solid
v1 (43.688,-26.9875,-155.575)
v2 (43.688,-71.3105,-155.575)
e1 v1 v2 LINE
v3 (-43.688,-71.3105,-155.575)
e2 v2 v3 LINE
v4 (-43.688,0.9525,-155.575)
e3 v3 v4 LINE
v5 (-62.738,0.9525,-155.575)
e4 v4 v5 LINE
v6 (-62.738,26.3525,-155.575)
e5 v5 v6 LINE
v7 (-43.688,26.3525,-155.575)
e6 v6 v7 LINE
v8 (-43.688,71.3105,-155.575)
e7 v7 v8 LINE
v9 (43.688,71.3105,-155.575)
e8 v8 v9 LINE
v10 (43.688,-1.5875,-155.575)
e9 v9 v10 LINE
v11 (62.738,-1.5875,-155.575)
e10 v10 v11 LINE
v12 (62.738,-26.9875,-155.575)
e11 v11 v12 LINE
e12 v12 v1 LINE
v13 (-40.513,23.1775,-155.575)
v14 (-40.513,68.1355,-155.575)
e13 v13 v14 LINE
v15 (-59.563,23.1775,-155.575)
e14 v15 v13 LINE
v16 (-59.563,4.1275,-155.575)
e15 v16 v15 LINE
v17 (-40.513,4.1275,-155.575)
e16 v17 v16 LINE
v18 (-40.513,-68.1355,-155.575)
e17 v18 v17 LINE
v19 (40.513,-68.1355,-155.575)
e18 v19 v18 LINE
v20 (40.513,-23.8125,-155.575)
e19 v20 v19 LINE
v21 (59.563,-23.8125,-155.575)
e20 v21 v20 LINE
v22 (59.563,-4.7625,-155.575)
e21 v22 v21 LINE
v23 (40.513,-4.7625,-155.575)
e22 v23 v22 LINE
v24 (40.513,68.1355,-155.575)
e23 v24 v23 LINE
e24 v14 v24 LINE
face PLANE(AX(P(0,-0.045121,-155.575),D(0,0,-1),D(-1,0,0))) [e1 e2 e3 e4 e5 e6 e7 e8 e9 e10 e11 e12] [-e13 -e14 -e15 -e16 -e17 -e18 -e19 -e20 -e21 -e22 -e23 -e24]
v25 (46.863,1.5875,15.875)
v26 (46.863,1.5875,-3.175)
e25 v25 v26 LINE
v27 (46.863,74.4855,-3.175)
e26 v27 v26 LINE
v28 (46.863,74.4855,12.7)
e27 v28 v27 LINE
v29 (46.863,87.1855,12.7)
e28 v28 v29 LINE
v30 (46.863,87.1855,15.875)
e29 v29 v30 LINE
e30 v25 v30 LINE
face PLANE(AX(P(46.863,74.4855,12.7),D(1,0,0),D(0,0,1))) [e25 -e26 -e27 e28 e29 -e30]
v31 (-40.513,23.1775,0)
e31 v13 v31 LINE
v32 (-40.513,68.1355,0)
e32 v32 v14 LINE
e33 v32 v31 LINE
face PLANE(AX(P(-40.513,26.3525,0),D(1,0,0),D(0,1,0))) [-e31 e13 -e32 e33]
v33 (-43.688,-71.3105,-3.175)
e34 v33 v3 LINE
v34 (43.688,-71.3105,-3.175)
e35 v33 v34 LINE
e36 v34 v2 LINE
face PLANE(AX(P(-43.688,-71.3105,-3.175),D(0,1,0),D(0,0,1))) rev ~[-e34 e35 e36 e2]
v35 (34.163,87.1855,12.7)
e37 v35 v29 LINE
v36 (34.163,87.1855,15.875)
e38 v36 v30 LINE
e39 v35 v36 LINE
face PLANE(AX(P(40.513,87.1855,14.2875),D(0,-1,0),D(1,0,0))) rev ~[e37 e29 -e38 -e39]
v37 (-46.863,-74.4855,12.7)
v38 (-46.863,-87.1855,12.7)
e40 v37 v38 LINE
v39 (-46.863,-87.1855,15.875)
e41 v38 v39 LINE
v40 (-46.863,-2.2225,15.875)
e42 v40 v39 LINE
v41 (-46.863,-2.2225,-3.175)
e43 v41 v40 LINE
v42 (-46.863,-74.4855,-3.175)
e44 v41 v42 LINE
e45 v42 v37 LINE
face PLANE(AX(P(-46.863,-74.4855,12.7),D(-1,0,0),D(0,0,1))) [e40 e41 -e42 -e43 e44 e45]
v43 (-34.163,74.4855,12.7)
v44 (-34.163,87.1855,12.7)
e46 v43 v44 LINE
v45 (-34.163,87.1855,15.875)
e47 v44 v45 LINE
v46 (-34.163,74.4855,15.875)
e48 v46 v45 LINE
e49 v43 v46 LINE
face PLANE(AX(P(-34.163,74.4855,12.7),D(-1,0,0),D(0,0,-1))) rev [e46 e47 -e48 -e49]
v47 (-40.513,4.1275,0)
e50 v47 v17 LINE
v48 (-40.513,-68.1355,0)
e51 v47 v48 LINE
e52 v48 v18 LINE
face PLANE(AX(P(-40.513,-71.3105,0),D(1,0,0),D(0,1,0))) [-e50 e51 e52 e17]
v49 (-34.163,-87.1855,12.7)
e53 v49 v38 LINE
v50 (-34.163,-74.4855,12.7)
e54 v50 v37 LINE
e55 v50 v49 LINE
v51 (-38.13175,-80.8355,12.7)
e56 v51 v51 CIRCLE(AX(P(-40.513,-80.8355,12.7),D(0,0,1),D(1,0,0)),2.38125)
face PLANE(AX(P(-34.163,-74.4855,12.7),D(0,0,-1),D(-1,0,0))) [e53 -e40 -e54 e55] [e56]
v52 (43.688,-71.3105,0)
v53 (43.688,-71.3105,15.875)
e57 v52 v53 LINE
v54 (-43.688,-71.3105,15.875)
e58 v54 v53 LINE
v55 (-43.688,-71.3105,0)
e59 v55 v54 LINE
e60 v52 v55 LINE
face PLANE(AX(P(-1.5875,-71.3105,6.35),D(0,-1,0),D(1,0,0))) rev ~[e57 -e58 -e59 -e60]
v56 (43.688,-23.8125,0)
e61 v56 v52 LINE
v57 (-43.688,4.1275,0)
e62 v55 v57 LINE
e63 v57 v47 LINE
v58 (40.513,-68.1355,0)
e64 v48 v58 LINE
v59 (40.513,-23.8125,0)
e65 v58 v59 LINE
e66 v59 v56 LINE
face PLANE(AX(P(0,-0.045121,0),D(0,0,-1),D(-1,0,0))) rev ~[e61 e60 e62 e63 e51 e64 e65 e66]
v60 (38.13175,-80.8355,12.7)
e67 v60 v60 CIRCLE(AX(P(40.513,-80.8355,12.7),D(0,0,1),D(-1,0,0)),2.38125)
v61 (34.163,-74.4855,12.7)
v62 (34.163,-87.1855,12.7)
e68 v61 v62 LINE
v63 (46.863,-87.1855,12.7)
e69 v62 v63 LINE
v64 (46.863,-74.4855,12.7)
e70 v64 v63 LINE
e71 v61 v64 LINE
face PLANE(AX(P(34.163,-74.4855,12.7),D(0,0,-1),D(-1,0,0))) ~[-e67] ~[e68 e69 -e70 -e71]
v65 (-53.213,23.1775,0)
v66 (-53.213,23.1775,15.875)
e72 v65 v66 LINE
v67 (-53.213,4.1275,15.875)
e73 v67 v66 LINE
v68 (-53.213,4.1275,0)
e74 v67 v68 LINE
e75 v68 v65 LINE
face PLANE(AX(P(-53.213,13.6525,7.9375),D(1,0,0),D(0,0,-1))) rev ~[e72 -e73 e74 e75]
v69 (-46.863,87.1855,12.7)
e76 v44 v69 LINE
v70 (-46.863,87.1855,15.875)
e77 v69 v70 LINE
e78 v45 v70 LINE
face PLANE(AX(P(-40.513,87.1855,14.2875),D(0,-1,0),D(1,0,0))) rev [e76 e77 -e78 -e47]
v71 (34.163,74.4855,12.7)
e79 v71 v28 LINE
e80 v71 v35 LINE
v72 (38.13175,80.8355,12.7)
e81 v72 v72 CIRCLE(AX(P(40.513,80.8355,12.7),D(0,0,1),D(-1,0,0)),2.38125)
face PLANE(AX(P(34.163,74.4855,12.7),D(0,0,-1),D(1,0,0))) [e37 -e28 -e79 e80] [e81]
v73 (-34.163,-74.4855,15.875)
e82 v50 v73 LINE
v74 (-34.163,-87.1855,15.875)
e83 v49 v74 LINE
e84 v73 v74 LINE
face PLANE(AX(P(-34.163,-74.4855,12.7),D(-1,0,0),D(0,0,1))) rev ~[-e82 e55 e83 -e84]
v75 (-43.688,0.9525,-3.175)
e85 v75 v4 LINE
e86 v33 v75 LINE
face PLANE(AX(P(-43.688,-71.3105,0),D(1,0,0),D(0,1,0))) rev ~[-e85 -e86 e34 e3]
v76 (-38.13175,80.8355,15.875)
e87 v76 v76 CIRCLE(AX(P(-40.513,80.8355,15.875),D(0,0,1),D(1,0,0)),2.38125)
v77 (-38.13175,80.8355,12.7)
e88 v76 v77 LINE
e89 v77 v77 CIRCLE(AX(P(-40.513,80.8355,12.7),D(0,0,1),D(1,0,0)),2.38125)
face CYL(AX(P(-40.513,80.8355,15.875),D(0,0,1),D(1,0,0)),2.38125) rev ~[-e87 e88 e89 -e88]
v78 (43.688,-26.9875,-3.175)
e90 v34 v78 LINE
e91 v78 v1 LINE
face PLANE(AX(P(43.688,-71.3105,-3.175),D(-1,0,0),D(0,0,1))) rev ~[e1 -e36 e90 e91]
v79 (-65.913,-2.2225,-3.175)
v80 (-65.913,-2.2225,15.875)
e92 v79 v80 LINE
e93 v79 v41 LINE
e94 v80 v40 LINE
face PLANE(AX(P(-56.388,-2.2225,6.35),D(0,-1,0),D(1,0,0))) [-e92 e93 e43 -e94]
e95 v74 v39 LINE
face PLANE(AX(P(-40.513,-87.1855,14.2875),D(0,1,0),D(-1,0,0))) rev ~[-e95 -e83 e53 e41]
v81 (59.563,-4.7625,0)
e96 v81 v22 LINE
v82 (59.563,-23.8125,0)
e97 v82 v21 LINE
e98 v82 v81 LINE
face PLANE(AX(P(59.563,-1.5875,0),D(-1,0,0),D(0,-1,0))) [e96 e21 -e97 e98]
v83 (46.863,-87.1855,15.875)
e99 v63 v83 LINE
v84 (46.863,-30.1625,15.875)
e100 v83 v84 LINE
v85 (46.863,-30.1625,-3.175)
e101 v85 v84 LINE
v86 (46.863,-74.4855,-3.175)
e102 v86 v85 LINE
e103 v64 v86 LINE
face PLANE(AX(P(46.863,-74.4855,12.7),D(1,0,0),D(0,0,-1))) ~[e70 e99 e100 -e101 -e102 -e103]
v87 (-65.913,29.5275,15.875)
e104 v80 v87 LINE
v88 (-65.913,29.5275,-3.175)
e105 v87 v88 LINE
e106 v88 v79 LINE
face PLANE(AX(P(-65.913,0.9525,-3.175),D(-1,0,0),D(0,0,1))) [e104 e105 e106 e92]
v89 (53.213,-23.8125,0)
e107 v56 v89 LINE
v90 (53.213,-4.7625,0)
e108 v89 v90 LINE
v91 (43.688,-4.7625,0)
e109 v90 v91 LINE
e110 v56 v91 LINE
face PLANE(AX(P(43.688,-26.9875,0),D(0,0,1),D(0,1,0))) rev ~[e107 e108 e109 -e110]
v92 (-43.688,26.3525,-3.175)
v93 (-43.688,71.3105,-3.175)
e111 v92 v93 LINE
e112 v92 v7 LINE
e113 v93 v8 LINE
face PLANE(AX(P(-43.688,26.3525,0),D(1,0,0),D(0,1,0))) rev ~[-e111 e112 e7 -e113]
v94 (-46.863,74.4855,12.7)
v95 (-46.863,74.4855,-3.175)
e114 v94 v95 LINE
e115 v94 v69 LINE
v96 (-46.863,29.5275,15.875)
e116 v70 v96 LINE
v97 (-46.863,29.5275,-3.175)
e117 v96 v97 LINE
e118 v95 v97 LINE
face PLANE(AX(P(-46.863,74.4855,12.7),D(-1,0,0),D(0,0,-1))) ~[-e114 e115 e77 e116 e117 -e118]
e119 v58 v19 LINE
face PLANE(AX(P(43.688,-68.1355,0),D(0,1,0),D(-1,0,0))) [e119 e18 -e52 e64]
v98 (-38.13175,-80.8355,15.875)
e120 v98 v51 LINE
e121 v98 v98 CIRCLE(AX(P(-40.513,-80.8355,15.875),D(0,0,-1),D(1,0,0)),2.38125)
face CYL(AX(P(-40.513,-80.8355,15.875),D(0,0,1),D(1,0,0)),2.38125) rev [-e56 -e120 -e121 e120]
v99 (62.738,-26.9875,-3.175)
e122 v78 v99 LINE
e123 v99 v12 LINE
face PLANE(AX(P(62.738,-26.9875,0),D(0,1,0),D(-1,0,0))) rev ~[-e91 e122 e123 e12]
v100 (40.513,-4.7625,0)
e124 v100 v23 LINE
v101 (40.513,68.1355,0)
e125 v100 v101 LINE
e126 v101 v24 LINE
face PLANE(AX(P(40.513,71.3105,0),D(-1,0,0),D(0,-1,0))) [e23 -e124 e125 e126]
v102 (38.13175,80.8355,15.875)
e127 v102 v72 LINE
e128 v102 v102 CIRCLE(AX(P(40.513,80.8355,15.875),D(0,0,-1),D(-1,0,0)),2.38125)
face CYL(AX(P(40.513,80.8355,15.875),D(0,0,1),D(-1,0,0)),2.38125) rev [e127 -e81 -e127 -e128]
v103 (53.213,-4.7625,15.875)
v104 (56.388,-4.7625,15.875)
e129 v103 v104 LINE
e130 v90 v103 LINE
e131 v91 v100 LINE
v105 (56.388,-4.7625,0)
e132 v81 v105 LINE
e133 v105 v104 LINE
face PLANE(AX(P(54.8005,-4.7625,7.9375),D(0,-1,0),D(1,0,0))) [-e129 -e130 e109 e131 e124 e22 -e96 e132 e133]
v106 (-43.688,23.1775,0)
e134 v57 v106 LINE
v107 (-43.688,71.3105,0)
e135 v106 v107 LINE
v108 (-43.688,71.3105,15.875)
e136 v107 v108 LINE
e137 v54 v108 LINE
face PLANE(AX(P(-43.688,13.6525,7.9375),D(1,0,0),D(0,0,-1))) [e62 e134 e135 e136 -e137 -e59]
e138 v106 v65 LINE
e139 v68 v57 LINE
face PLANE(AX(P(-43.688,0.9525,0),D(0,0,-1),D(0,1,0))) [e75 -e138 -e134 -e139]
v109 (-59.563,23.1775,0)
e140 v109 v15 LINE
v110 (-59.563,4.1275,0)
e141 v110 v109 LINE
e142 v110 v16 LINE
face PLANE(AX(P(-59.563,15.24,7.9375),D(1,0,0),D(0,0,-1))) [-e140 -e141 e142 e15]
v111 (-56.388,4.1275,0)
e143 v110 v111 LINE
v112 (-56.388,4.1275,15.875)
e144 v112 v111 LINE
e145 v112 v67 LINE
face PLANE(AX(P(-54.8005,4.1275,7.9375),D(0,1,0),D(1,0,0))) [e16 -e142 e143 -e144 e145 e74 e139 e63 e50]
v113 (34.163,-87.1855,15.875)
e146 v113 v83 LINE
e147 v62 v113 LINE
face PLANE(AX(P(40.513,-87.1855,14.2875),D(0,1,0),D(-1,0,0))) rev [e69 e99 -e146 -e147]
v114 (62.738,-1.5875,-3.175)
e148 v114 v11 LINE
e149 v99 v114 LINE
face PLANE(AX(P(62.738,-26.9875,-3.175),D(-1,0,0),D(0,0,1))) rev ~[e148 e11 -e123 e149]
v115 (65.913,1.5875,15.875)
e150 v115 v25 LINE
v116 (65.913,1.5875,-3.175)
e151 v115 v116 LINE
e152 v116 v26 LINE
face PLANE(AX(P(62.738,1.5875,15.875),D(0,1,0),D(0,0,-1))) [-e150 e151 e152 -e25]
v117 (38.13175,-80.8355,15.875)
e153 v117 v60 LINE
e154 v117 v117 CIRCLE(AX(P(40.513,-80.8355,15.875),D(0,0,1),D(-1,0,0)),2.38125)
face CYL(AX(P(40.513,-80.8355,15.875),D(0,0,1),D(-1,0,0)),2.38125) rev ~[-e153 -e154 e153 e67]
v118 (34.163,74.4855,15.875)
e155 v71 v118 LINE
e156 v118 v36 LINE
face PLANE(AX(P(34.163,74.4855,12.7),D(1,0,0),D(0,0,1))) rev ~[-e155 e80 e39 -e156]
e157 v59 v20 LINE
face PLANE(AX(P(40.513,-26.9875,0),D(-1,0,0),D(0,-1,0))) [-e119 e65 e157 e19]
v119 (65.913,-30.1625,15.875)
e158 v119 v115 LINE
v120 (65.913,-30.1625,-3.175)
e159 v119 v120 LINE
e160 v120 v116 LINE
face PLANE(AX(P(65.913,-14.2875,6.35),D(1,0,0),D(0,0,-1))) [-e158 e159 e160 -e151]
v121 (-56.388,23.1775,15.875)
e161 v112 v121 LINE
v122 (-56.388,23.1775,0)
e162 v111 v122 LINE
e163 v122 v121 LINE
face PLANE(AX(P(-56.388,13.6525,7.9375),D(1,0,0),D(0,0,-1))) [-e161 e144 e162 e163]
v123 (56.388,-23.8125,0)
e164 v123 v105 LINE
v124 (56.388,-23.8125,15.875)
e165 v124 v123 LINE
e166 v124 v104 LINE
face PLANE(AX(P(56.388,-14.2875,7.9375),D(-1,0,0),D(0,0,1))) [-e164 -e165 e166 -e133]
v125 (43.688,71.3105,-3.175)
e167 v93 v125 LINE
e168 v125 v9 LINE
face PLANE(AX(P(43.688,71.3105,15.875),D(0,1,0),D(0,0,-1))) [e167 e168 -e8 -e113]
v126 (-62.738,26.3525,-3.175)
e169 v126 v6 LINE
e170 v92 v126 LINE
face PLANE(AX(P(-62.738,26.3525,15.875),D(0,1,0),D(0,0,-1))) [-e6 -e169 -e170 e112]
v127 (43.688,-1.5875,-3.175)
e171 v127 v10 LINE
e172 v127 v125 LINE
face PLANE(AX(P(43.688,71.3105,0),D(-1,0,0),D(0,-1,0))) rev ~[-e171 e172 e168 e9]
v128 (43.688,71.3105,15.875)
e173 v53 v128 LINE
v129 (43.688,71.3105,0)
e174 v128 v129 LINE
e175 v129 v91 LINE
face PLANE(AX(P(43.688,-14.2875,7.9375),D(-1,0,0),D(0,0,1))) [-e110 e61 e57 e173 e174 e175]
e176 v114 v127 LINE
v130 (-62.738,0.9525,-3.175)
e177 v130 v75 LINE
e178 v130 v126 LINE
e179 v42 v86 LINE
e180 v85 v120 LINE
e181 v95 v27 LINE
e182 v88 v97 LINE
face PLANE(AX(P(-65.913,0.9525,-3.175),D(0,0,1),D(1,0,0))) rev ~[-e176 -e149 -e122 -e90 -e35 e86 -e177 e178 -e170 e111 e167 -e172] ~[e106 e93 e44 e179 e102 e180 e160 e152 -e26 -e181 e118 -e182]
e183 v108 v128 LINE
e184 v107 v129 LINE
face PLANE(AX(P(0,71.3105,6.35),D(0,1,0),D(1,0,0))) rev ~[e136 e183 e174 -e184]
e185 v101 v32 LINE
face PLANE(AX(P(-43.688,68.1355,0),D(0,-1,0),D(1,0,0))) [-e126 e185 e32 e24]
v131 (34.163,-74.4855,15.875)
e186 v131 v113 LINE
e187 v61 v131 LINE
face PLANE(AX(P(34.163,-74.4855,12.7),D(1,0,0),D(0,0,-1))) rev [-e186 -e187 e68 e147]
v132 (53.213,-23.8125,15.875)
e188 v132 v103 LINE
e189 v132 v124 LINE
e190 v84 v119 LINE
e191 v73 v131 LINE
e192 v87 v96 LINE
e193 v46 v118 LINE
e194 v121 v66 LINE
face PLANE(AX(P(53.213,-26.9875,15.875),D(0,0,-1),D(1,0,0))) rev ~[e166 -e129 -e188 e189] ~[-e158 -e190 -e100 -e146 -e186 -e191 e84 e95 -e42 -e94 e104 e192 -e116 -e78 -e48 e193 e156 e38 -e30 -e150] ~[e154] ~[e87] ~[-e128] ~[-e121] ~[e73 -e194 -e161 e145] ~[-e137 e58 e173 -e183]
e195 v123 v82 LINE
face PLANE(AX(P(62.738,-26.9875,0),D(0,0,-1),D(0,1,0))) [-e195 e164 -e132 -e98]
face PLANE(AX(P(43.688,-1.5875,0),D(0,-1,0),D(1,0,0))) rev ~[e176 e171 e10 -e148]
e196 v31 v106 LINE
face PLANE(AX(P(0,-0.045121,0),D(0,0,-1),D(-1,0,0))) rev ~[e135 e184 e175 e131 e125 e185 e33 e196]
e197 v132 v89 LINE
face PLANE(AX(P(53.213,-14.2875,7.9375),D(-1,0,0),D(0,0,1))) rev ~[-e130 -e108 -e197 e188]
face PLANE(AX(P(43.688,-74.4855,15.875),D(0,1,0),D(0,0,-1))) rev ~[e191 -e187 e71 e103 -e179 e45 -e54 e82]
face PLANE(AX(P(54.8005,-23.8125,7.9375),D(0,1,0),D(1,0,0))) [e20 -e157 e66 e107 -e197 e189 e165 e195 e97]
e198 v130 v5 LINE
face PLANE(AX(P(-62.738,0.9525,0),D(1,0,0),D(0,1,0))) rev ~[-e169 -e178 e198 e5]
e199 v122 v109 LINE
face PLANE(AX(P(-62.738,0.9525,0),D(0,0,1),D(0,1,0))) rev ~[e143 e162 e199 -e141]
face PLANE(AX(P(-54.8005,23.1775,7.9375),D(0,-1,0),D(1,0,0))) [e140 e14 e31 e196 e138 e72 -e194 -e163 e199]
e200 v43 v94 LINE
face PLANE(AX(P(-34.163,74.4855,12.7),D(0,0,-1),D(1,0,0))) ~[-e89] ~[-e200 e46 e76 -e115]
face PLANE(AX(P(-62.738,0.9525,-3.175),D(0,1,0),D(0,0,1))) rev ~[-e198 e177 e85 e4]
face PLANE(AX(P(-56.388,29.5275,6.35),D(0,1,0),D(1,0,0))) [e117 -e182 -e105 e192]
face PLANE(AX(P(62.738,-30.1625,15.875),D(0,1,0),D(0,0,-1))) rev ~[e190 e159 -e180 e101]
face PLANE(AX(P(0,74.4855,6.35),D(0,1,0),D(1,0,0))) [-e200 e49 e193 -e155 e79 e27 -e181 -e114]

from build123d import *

# Parameters (mm, degrees)
BOSS_EXTRUDE1_DEPTH     = 155.575
SHELL1_T                = -3.175
SKETCH2_W               = 19.05
SKETCH2_H               = 72.263
SKETCH2_H_2             = 44.958
BOSS_EXTRUDE2_DEPTH     = 3.175
SKETCH5_W               = 90.551
SKETCH5_H               = 19.05
BOSS_EXTRUDE8_DEPTH     = 3.175
SKETCH7_W               = 19.05
SKETCH7_H               = 47.498
ALL_6_DEPTH             = 3.175
SKETCH8_W               = 19.05
SKETCH8_H               = 72.898
ALL_5_DEPTH             = 3.175
SKETCH9_W               = 93.726
SKETCH9_H               = 19.05
BOSS_EXTRUDE12_DEPTH    = 3.175
SKETCH10_W              = 15.875
SKETCH10_H              = 19.05
ALL2_DEPTH              = 3.175
SKETCH11_W              = 15.875
SKETCH11_H              = 19.05
ALL_7_DEPTH             = 3.175
SKETCH13_W              = 19.05
SKETCH13_H              = 25.4
ALL_2_DEPTH             = 3.175
SKETCH27_W              = 12.7
SKETCH27_H              = 3.175
BOSS_EXTRUDE29_DEPTH    = 12.7
SKETCH28_R              = 2.38125
CUT_EXTRUDE4_DEPTH      = 227.835119161
MIRROR2_COPY_1_SKETCH_W = 12.7
MIRROR2_COPY_1_SKETCH_H = 3.175
MIRROR2_COPY_1_DEPTH    = 12.7
MIRROR2_COPY_2_SKETCH_R = 2.38125
MIRROR2_COPY_2_DEPTH    = 227.835119161
SKETCH31_W              = 15.875
SKETCH31_H              = 22.225
BOSS_EXTRUDE31_DEPTH    = 3.175
SKETCH87_W              = 19.05
SKETCH87_H              = 31.75
ALL3_DEPTH              = 3.175
SKETCH91_W              = 15.875
SKETCH91_H              = 25.4
ALL_4_DEPTH             = 3.175
CUT_EXTRUDE24_DEPTH     = 201.654704914
SKETCH102_W             = 19.05
SKETCH102_H             = 19.05
BOSS_EXTRUDE58_DEPTH    = 3.175
SKETCH103_W             = 19.05
SKETCH103_H             = 19.05
BOSS_EXTRUDE59_DEPTH    = 3.175
SKETCH105_W             = 15.875
SKETCH105_H             = 25.4
BOSS_EXTRUDE65_DEPTH    = 9.525
SKETCH106_W             = 15.875
SKETCH106_H             = 25.4
BOSS_EXTRUDE66_DEPTH    = 9.525
SKETCH107_W             = 15.875
SKETCH107_H             = 25.4
BOSS_EXTRUDE67_DEPTH    = 6.35
SKETCH108_W             = 15.875
SKETCH108_H             = 25.4
BOSS_EXTRUDE68_DEPTH    = 6.35
SKETCH109_W             = 3.175
SKETCH109_H             = 15.875
BOSS_EXTRUDE69_DEPTH    = 3.175
SKETCH110_W             = 3.175
SKETCH110_H             = 15.875
BOSS_EXTRUDE70_DEPTH    = 3.175
SKETCH111_W             = 3.175
SKETCH111_H             = 15.875
BOSS_EXTRUDE71_DEPTH    = 3.175
SKETCH112_W             = 3.175
SKETCH112_H             = 15.875
BOSS_EXTRUDE72_DEPTH    = 3.175


with BuildPart() as part:
    # Sketch1 → Boss-Extrude1 (new body)
    with BuildSketch(Plane.XY):
        Polygon((-43.688, 71.3105), (43.688, 71.3105), (43.688, -1.5875), (62.738, -1.5875), (62.738, -26.9875), (43.688, -26.9875), (43.688, -71.3105), (-43.688, -71.3105), (-43.688, 0.9525), (-62.738, 0.9525), (-62.738, 26.3525), (-43.688, 26.3525), align=None)
    extrude(amount=-BOSS_EXTRUDE1_DEPTH)

    # Shell1
    shell1_openings = [part.faces().sort_by_distance(p)[0] for p in [
        (0, -0.022879475, 0),
    ]]
    offset(amount=SHELL1_T, openings=shell1_openings, kind=Kind.INTERSECTION)

    # Sketch2 → Boss-Extrude2 (add)
    with BuildSketch(Plane.ZY.offset(43.688)):
        with Locations((6.35, -35.179)):
            Rectangle(SKETCH2_W, SKETCH2_H)
        with Locations((6.35, 48.8315)):
            Rectangle(SKETCH2_W, SKETCH2_H_2)
    extrude(amount=BOSS_EXTRUDE2_DEPTH)

    # Sketch5 → Boss-Extrude8 (add)
    with BuildSketch(Plane.XZ.offset(71.3105)):
        with Locations((-1.5875, 6.35)):
            Rectangle(SKETCH5_W, SKETCH5_H)
    extrude(amount=BOSS_EXTRUDE8_DEPTH)

    # Sketch7 → ALL 6 (add)
    with BuildSketch(Plane(origin=(43.688, 0, 0), x_dir=(0, 0, -1), z_dir=(1, 0, 0))):
        with Locations((-6.35, -50.7365)):
            Rectangle(SKETCH7_W, SKETCH7_H)
    extrude(amount=ALL_6_DEPTH)

    # Sketch8 → ALL 5 (add)
    with BuildSketch(Plane(origin=(43.688, 0, 0), x_dir=(0, 0, -1), z_dir=(1, 0, 0))):
        with Locations((-6.35, 34.8615)):
            Rectangle(SKETCH8_W, SKETCH8_H)
    extrude(amount=ALL_5_DEPTH)

    # Sketch9 → Boss-Extrude12 (add)
    with BuildSketch(Plane(origin=(0, 71.3105, 0), x_dir=(1, 0, 0), z_dir=(0, 1, 0))):
        with Locations((0, -6.35)):
            Rectangle(SKETCH9_W, SKETCH9_H)
    extrude(amount=BOSS_EXTRUDE12_DEPTH)

    # Sketch10 → ALL2 (add)
    with BuildSketch(Plane(origin=(0, -1.5875, 0), x_dir=(1, 0, 0), z_dir=(0, 1, 0))):
        with Locations((54.8005, -6.35)):
            Rectangle(SKETCH10_W, SKETCH10_H)
    extrude(amount=ALL2_DEPTH)

    # Sketch11 → ALL 7 (add)
    with BuildSketch(Plane.XZ.offset(26.9875)):
        with Locations((54.8005, 6.35)):
            Rectangle(SKETCH11_W, SKETCH11_H)
    extrude(amount=ALL_7_DEPTH)

    # Sketch13 → ALL 2 (add)
    with BuildSketch(Plane.ZY.offset(62.738)):
        with Locations((6.35, 13.6525)):
            Rectangle(SKETCH13_W, SKETCH13_H)
    extrude(amount=ALL_2_DEPTH)

    # Sketch27 → Boss-Extrude29 (add)
    with BuildSketch(Plane(origin=(0, 74.4855, -58.6105), x_dir=(1, 0, 0), z_dir=(0, -1, 0))):
        with Locations((40.513, 72.898)):
            Rectangle(SKETCH27_W, SKETCH27_H)
    boss_extrude29 = extrude(amount=-BOSS_EXTRUDE29_DEPTH)

    # Sketch28 → Cut-Extrude4 (cut, through all)
    with BuildSketch(Plane(origin=(0, 58.6105, 15.875), x_dir=(1, 0, 0), z_dir=(0, 0, -1))):
        with Locations(Location((40.513, -22.225, 0), (0, 0, 180))):
            Circle(SKETCH28_R)
    cut_extrude4 = extrude(amount=CUT_EXTRUDE4_DEPTH, mode=Mode.SUBTRACT)

    # Mirror1: Boss-Extrude29, Cut-Extrude4 across plane
    add(boss_extrude29.mirror(Plane(origin=(0, 0, 0), x_dir=(0, 0, 1), z_dir=(1, 0, 0))))
    add(cut_extrude4.mirror(Plane(origin=(0, 0, 0), x_dir=(0, 0, 1), z_dir=(1, 0, 0))), mode=Mode.SUBTRACT)

    # Mirror2: Boss-Extrude29, Cut-Extrude4 across plane
    add(boss_extrude29.mirror(Plane.ZX))
    add(cut_extrude4.mirror(Plane.ZX), mode=Mode.SUBTRACT)

    # Mirror2 copy 1 sketch → Mirror2 copy 1 (add)
    with BuildSketch(Plane(origin=(0, -74.4855, -58.6105), x_dir=(-1, 0, 0), z_dir=(0, 1, 0))):
        with Locations((40.513, 72.898)):
            Rectangle(MIRROR2_COPY_1_SKETCH_W, MIRROR2_COPY_1_SKETCH_H)
    extrude(amount=-MIRROR2_COPY_1_DEPTH)

    # Mirror2 copy 2 sketch → Mirror2 copy 2 (cut, through all)
    with BuildSketch(Plane(origin=(0, -58.6105, 15.875), x_dir=(-1, 0, 0), z_dir=(0, 0, -1))):
        with Locations(Location((40.513, -22.225, 0), (0, 0, 180))):
            Circle(MIRROR2_COPY_2_SKETCH_R)
    extrude(amount=MIRROR2_COPY_2_DEPTH, mode=Mode.SUBTRACT)

    # Sketch31 → Boss-Extrude31 (add)
    with BuildSketch(Plane(origin=(-62.738, 0, 0), x_dir=(0, 0, -1), z_dir=(1, 0, 0))):
        with Locations((-7.9375, 15.24)):
            Rectangle(SKETCH31_W, SKETCH31_H)
    extrude(amount=BOSS_EXTRUDE31_DEPTH)

    # Sketch87 → ALL3 (add)
    with BuildSketch(Plane(origin=(62.738, 0, 0), x_dir=(0, 0, -1), z_dir=(1, 0, 0))):
        with Locations((-6.35, -14.2875)):
            Rectangle(SKETCH87_W, SKETCH87_H)
    extrude(amount=ALL3_DEPTH)

    # Sketch91 → ALL 4 (cut)
    with BuildSketch(Plane(origin=(-59.563, 0, 0), x_dir=(0, 0, -1), z_dir=(1, 0, 0))):
        with Locations((-7.9375, 13.6525)):
            Rectangle(SKETCH91_W, SKETCH91_H)
    extrude(amount=-ALL_4_DEPTH, mode=Mode.SUBTRACT)

    # Sketch101 → Cut-Extrude24 (cut, through all)
    with BuildSketch(Plane.XY.offset(-152.4)):
        Polygon((-40.513, -68.1355), (40.513, -68.1355), (40.513, -23.8125), (59.563, -23.8125), (59.563, -4.7625), (40.513, -4.7625), (40.513, 68.1355), (-40.513, 68.1355), (-40.513, 23.1775), (-59.563, 23.1775), (-59.563, 4.1275), (-40.513, 4.1275), align=None)
    extrude(amount=-CUT_EXTRUDE24_DEPTH, mode=Mode.SUBTRACT)

    # Sketch102 → Boss-Extrude58 (add)
    with BuildSketch(Plane(origin=(0, 26.3525, 0), x_dir=(1, 0, 0), z_dir=(0, 1, 0))):
        with Locations((-56.388, -6.35)):
            Rectangle(SKETCH102_W, SKETCH102_H)
    extrude(amount=BOSS_EXTRUDE58_DEPTH)

    # Sketch103 → Boss-Extrude59 (add)
    with BuildSketch(Plane.XZ.offset(-0.9525)):
        with Locations((-56.388, 6.35)):
            Rectangle(SKETCH103_W, SKETCH103_H)
    extrude(amount=BOSS_EXTRUDE59_DEPTH)

    # Sketch105 → Boss-Extrude65 (add)
    with BuildSketch(Plane(origin=(-43.688, 0, 0), x_dir=(0, 0, -1), z_dir=(1, 0, 0))):
        with Locations((-7.9375, 13.6525)):
            Rectangle(SKETCH105_W, SKETCH105_H)
    extrude(amount=-BOSS_EXTRUDE65_DEPTH)

    # Sketch106 → Boss-Extrude66 (add)
    with BuildSketch(Plane.ZY.offset(-43.688)):
        with Locations((7.9375, -14.2875)):
            Rectangle(SKETCH106_W, SKETCH106_H)
    extrude(amount=-BOSS_EXTRUDE66_DEPTH)

    # Sketch107 → Boss-Extrude67 (add)
    with BuildSketch(Plane.ZY.offset(-62.738)):
        with Locations((7.9375, -14.2875)):
            Rectangle(SKETCH107_W, SKETCH107_H)
    extrude(amount=BOSS_EXTRUDE67_DEPTH)

    # Sketch108 → Boss-Extrude68 (add)
    with BuildSketch(Plane(origin=(-62.738, 0, 0), x_dir=(0, 0, -1), z_dir=(1, 0, 0))):
        with Locations((-7.9375, 13.6525)):
            Rectangle(SKETCH108_W, SKETCH108_H)
    extrude(amount=BOSS_EXTRUDE68_DEPTH)

    # Sketch109 → Boss-Extrude69 (add)
    with BuildSketch(Plane(origin=(0, 0.9525, 0), x_dir=(1, 0, 0), z_dir=(0, 1, 0))):
        with Locations((-54.8005, -7.9375)):
            Rectangle(SKETCH109_W, SKETCH109_H)
    extrude(amount=BOSS_EXTRUDE69_DEPTH)

    # Sketch110 → Boss-Extrude70 (add)
    with BuildSketch(Plane.XZ.offset(-26.3525)):
        with Locations((-54.8005, 7.9375)):
            Rectangle(SKETCH110_W, SKETCH110_H)
    extrude(amount=BOSS_EXTRUDE70_DEPTH)

    # Sketch111 → Boss-Extrude71 (add)
    with BuildSketch(Plane.XZ.offset(1.5875)):
        with Locations((54.8005, 7.9375)):
            Rectangle(SKETCH111_W, SKETCH111_H)
    extrude(amount=BOSS_EXTRUDE71_DEPTH)

    # Sketch112 → Boss-Extrude72 (add)
    with BuildSketch(Plane(origin=(0, -26.9875, 0), x_dir=(1, 0, 0), z_dir=(0, 1, 0))):
        with Locations((54.8005, -7.9375)):
            Rectangle(SKETCH112_W, SKETCH112_H)
    extrude(amount=BOSS_EXTRUDE72_DEPTH)


solid = part.part
